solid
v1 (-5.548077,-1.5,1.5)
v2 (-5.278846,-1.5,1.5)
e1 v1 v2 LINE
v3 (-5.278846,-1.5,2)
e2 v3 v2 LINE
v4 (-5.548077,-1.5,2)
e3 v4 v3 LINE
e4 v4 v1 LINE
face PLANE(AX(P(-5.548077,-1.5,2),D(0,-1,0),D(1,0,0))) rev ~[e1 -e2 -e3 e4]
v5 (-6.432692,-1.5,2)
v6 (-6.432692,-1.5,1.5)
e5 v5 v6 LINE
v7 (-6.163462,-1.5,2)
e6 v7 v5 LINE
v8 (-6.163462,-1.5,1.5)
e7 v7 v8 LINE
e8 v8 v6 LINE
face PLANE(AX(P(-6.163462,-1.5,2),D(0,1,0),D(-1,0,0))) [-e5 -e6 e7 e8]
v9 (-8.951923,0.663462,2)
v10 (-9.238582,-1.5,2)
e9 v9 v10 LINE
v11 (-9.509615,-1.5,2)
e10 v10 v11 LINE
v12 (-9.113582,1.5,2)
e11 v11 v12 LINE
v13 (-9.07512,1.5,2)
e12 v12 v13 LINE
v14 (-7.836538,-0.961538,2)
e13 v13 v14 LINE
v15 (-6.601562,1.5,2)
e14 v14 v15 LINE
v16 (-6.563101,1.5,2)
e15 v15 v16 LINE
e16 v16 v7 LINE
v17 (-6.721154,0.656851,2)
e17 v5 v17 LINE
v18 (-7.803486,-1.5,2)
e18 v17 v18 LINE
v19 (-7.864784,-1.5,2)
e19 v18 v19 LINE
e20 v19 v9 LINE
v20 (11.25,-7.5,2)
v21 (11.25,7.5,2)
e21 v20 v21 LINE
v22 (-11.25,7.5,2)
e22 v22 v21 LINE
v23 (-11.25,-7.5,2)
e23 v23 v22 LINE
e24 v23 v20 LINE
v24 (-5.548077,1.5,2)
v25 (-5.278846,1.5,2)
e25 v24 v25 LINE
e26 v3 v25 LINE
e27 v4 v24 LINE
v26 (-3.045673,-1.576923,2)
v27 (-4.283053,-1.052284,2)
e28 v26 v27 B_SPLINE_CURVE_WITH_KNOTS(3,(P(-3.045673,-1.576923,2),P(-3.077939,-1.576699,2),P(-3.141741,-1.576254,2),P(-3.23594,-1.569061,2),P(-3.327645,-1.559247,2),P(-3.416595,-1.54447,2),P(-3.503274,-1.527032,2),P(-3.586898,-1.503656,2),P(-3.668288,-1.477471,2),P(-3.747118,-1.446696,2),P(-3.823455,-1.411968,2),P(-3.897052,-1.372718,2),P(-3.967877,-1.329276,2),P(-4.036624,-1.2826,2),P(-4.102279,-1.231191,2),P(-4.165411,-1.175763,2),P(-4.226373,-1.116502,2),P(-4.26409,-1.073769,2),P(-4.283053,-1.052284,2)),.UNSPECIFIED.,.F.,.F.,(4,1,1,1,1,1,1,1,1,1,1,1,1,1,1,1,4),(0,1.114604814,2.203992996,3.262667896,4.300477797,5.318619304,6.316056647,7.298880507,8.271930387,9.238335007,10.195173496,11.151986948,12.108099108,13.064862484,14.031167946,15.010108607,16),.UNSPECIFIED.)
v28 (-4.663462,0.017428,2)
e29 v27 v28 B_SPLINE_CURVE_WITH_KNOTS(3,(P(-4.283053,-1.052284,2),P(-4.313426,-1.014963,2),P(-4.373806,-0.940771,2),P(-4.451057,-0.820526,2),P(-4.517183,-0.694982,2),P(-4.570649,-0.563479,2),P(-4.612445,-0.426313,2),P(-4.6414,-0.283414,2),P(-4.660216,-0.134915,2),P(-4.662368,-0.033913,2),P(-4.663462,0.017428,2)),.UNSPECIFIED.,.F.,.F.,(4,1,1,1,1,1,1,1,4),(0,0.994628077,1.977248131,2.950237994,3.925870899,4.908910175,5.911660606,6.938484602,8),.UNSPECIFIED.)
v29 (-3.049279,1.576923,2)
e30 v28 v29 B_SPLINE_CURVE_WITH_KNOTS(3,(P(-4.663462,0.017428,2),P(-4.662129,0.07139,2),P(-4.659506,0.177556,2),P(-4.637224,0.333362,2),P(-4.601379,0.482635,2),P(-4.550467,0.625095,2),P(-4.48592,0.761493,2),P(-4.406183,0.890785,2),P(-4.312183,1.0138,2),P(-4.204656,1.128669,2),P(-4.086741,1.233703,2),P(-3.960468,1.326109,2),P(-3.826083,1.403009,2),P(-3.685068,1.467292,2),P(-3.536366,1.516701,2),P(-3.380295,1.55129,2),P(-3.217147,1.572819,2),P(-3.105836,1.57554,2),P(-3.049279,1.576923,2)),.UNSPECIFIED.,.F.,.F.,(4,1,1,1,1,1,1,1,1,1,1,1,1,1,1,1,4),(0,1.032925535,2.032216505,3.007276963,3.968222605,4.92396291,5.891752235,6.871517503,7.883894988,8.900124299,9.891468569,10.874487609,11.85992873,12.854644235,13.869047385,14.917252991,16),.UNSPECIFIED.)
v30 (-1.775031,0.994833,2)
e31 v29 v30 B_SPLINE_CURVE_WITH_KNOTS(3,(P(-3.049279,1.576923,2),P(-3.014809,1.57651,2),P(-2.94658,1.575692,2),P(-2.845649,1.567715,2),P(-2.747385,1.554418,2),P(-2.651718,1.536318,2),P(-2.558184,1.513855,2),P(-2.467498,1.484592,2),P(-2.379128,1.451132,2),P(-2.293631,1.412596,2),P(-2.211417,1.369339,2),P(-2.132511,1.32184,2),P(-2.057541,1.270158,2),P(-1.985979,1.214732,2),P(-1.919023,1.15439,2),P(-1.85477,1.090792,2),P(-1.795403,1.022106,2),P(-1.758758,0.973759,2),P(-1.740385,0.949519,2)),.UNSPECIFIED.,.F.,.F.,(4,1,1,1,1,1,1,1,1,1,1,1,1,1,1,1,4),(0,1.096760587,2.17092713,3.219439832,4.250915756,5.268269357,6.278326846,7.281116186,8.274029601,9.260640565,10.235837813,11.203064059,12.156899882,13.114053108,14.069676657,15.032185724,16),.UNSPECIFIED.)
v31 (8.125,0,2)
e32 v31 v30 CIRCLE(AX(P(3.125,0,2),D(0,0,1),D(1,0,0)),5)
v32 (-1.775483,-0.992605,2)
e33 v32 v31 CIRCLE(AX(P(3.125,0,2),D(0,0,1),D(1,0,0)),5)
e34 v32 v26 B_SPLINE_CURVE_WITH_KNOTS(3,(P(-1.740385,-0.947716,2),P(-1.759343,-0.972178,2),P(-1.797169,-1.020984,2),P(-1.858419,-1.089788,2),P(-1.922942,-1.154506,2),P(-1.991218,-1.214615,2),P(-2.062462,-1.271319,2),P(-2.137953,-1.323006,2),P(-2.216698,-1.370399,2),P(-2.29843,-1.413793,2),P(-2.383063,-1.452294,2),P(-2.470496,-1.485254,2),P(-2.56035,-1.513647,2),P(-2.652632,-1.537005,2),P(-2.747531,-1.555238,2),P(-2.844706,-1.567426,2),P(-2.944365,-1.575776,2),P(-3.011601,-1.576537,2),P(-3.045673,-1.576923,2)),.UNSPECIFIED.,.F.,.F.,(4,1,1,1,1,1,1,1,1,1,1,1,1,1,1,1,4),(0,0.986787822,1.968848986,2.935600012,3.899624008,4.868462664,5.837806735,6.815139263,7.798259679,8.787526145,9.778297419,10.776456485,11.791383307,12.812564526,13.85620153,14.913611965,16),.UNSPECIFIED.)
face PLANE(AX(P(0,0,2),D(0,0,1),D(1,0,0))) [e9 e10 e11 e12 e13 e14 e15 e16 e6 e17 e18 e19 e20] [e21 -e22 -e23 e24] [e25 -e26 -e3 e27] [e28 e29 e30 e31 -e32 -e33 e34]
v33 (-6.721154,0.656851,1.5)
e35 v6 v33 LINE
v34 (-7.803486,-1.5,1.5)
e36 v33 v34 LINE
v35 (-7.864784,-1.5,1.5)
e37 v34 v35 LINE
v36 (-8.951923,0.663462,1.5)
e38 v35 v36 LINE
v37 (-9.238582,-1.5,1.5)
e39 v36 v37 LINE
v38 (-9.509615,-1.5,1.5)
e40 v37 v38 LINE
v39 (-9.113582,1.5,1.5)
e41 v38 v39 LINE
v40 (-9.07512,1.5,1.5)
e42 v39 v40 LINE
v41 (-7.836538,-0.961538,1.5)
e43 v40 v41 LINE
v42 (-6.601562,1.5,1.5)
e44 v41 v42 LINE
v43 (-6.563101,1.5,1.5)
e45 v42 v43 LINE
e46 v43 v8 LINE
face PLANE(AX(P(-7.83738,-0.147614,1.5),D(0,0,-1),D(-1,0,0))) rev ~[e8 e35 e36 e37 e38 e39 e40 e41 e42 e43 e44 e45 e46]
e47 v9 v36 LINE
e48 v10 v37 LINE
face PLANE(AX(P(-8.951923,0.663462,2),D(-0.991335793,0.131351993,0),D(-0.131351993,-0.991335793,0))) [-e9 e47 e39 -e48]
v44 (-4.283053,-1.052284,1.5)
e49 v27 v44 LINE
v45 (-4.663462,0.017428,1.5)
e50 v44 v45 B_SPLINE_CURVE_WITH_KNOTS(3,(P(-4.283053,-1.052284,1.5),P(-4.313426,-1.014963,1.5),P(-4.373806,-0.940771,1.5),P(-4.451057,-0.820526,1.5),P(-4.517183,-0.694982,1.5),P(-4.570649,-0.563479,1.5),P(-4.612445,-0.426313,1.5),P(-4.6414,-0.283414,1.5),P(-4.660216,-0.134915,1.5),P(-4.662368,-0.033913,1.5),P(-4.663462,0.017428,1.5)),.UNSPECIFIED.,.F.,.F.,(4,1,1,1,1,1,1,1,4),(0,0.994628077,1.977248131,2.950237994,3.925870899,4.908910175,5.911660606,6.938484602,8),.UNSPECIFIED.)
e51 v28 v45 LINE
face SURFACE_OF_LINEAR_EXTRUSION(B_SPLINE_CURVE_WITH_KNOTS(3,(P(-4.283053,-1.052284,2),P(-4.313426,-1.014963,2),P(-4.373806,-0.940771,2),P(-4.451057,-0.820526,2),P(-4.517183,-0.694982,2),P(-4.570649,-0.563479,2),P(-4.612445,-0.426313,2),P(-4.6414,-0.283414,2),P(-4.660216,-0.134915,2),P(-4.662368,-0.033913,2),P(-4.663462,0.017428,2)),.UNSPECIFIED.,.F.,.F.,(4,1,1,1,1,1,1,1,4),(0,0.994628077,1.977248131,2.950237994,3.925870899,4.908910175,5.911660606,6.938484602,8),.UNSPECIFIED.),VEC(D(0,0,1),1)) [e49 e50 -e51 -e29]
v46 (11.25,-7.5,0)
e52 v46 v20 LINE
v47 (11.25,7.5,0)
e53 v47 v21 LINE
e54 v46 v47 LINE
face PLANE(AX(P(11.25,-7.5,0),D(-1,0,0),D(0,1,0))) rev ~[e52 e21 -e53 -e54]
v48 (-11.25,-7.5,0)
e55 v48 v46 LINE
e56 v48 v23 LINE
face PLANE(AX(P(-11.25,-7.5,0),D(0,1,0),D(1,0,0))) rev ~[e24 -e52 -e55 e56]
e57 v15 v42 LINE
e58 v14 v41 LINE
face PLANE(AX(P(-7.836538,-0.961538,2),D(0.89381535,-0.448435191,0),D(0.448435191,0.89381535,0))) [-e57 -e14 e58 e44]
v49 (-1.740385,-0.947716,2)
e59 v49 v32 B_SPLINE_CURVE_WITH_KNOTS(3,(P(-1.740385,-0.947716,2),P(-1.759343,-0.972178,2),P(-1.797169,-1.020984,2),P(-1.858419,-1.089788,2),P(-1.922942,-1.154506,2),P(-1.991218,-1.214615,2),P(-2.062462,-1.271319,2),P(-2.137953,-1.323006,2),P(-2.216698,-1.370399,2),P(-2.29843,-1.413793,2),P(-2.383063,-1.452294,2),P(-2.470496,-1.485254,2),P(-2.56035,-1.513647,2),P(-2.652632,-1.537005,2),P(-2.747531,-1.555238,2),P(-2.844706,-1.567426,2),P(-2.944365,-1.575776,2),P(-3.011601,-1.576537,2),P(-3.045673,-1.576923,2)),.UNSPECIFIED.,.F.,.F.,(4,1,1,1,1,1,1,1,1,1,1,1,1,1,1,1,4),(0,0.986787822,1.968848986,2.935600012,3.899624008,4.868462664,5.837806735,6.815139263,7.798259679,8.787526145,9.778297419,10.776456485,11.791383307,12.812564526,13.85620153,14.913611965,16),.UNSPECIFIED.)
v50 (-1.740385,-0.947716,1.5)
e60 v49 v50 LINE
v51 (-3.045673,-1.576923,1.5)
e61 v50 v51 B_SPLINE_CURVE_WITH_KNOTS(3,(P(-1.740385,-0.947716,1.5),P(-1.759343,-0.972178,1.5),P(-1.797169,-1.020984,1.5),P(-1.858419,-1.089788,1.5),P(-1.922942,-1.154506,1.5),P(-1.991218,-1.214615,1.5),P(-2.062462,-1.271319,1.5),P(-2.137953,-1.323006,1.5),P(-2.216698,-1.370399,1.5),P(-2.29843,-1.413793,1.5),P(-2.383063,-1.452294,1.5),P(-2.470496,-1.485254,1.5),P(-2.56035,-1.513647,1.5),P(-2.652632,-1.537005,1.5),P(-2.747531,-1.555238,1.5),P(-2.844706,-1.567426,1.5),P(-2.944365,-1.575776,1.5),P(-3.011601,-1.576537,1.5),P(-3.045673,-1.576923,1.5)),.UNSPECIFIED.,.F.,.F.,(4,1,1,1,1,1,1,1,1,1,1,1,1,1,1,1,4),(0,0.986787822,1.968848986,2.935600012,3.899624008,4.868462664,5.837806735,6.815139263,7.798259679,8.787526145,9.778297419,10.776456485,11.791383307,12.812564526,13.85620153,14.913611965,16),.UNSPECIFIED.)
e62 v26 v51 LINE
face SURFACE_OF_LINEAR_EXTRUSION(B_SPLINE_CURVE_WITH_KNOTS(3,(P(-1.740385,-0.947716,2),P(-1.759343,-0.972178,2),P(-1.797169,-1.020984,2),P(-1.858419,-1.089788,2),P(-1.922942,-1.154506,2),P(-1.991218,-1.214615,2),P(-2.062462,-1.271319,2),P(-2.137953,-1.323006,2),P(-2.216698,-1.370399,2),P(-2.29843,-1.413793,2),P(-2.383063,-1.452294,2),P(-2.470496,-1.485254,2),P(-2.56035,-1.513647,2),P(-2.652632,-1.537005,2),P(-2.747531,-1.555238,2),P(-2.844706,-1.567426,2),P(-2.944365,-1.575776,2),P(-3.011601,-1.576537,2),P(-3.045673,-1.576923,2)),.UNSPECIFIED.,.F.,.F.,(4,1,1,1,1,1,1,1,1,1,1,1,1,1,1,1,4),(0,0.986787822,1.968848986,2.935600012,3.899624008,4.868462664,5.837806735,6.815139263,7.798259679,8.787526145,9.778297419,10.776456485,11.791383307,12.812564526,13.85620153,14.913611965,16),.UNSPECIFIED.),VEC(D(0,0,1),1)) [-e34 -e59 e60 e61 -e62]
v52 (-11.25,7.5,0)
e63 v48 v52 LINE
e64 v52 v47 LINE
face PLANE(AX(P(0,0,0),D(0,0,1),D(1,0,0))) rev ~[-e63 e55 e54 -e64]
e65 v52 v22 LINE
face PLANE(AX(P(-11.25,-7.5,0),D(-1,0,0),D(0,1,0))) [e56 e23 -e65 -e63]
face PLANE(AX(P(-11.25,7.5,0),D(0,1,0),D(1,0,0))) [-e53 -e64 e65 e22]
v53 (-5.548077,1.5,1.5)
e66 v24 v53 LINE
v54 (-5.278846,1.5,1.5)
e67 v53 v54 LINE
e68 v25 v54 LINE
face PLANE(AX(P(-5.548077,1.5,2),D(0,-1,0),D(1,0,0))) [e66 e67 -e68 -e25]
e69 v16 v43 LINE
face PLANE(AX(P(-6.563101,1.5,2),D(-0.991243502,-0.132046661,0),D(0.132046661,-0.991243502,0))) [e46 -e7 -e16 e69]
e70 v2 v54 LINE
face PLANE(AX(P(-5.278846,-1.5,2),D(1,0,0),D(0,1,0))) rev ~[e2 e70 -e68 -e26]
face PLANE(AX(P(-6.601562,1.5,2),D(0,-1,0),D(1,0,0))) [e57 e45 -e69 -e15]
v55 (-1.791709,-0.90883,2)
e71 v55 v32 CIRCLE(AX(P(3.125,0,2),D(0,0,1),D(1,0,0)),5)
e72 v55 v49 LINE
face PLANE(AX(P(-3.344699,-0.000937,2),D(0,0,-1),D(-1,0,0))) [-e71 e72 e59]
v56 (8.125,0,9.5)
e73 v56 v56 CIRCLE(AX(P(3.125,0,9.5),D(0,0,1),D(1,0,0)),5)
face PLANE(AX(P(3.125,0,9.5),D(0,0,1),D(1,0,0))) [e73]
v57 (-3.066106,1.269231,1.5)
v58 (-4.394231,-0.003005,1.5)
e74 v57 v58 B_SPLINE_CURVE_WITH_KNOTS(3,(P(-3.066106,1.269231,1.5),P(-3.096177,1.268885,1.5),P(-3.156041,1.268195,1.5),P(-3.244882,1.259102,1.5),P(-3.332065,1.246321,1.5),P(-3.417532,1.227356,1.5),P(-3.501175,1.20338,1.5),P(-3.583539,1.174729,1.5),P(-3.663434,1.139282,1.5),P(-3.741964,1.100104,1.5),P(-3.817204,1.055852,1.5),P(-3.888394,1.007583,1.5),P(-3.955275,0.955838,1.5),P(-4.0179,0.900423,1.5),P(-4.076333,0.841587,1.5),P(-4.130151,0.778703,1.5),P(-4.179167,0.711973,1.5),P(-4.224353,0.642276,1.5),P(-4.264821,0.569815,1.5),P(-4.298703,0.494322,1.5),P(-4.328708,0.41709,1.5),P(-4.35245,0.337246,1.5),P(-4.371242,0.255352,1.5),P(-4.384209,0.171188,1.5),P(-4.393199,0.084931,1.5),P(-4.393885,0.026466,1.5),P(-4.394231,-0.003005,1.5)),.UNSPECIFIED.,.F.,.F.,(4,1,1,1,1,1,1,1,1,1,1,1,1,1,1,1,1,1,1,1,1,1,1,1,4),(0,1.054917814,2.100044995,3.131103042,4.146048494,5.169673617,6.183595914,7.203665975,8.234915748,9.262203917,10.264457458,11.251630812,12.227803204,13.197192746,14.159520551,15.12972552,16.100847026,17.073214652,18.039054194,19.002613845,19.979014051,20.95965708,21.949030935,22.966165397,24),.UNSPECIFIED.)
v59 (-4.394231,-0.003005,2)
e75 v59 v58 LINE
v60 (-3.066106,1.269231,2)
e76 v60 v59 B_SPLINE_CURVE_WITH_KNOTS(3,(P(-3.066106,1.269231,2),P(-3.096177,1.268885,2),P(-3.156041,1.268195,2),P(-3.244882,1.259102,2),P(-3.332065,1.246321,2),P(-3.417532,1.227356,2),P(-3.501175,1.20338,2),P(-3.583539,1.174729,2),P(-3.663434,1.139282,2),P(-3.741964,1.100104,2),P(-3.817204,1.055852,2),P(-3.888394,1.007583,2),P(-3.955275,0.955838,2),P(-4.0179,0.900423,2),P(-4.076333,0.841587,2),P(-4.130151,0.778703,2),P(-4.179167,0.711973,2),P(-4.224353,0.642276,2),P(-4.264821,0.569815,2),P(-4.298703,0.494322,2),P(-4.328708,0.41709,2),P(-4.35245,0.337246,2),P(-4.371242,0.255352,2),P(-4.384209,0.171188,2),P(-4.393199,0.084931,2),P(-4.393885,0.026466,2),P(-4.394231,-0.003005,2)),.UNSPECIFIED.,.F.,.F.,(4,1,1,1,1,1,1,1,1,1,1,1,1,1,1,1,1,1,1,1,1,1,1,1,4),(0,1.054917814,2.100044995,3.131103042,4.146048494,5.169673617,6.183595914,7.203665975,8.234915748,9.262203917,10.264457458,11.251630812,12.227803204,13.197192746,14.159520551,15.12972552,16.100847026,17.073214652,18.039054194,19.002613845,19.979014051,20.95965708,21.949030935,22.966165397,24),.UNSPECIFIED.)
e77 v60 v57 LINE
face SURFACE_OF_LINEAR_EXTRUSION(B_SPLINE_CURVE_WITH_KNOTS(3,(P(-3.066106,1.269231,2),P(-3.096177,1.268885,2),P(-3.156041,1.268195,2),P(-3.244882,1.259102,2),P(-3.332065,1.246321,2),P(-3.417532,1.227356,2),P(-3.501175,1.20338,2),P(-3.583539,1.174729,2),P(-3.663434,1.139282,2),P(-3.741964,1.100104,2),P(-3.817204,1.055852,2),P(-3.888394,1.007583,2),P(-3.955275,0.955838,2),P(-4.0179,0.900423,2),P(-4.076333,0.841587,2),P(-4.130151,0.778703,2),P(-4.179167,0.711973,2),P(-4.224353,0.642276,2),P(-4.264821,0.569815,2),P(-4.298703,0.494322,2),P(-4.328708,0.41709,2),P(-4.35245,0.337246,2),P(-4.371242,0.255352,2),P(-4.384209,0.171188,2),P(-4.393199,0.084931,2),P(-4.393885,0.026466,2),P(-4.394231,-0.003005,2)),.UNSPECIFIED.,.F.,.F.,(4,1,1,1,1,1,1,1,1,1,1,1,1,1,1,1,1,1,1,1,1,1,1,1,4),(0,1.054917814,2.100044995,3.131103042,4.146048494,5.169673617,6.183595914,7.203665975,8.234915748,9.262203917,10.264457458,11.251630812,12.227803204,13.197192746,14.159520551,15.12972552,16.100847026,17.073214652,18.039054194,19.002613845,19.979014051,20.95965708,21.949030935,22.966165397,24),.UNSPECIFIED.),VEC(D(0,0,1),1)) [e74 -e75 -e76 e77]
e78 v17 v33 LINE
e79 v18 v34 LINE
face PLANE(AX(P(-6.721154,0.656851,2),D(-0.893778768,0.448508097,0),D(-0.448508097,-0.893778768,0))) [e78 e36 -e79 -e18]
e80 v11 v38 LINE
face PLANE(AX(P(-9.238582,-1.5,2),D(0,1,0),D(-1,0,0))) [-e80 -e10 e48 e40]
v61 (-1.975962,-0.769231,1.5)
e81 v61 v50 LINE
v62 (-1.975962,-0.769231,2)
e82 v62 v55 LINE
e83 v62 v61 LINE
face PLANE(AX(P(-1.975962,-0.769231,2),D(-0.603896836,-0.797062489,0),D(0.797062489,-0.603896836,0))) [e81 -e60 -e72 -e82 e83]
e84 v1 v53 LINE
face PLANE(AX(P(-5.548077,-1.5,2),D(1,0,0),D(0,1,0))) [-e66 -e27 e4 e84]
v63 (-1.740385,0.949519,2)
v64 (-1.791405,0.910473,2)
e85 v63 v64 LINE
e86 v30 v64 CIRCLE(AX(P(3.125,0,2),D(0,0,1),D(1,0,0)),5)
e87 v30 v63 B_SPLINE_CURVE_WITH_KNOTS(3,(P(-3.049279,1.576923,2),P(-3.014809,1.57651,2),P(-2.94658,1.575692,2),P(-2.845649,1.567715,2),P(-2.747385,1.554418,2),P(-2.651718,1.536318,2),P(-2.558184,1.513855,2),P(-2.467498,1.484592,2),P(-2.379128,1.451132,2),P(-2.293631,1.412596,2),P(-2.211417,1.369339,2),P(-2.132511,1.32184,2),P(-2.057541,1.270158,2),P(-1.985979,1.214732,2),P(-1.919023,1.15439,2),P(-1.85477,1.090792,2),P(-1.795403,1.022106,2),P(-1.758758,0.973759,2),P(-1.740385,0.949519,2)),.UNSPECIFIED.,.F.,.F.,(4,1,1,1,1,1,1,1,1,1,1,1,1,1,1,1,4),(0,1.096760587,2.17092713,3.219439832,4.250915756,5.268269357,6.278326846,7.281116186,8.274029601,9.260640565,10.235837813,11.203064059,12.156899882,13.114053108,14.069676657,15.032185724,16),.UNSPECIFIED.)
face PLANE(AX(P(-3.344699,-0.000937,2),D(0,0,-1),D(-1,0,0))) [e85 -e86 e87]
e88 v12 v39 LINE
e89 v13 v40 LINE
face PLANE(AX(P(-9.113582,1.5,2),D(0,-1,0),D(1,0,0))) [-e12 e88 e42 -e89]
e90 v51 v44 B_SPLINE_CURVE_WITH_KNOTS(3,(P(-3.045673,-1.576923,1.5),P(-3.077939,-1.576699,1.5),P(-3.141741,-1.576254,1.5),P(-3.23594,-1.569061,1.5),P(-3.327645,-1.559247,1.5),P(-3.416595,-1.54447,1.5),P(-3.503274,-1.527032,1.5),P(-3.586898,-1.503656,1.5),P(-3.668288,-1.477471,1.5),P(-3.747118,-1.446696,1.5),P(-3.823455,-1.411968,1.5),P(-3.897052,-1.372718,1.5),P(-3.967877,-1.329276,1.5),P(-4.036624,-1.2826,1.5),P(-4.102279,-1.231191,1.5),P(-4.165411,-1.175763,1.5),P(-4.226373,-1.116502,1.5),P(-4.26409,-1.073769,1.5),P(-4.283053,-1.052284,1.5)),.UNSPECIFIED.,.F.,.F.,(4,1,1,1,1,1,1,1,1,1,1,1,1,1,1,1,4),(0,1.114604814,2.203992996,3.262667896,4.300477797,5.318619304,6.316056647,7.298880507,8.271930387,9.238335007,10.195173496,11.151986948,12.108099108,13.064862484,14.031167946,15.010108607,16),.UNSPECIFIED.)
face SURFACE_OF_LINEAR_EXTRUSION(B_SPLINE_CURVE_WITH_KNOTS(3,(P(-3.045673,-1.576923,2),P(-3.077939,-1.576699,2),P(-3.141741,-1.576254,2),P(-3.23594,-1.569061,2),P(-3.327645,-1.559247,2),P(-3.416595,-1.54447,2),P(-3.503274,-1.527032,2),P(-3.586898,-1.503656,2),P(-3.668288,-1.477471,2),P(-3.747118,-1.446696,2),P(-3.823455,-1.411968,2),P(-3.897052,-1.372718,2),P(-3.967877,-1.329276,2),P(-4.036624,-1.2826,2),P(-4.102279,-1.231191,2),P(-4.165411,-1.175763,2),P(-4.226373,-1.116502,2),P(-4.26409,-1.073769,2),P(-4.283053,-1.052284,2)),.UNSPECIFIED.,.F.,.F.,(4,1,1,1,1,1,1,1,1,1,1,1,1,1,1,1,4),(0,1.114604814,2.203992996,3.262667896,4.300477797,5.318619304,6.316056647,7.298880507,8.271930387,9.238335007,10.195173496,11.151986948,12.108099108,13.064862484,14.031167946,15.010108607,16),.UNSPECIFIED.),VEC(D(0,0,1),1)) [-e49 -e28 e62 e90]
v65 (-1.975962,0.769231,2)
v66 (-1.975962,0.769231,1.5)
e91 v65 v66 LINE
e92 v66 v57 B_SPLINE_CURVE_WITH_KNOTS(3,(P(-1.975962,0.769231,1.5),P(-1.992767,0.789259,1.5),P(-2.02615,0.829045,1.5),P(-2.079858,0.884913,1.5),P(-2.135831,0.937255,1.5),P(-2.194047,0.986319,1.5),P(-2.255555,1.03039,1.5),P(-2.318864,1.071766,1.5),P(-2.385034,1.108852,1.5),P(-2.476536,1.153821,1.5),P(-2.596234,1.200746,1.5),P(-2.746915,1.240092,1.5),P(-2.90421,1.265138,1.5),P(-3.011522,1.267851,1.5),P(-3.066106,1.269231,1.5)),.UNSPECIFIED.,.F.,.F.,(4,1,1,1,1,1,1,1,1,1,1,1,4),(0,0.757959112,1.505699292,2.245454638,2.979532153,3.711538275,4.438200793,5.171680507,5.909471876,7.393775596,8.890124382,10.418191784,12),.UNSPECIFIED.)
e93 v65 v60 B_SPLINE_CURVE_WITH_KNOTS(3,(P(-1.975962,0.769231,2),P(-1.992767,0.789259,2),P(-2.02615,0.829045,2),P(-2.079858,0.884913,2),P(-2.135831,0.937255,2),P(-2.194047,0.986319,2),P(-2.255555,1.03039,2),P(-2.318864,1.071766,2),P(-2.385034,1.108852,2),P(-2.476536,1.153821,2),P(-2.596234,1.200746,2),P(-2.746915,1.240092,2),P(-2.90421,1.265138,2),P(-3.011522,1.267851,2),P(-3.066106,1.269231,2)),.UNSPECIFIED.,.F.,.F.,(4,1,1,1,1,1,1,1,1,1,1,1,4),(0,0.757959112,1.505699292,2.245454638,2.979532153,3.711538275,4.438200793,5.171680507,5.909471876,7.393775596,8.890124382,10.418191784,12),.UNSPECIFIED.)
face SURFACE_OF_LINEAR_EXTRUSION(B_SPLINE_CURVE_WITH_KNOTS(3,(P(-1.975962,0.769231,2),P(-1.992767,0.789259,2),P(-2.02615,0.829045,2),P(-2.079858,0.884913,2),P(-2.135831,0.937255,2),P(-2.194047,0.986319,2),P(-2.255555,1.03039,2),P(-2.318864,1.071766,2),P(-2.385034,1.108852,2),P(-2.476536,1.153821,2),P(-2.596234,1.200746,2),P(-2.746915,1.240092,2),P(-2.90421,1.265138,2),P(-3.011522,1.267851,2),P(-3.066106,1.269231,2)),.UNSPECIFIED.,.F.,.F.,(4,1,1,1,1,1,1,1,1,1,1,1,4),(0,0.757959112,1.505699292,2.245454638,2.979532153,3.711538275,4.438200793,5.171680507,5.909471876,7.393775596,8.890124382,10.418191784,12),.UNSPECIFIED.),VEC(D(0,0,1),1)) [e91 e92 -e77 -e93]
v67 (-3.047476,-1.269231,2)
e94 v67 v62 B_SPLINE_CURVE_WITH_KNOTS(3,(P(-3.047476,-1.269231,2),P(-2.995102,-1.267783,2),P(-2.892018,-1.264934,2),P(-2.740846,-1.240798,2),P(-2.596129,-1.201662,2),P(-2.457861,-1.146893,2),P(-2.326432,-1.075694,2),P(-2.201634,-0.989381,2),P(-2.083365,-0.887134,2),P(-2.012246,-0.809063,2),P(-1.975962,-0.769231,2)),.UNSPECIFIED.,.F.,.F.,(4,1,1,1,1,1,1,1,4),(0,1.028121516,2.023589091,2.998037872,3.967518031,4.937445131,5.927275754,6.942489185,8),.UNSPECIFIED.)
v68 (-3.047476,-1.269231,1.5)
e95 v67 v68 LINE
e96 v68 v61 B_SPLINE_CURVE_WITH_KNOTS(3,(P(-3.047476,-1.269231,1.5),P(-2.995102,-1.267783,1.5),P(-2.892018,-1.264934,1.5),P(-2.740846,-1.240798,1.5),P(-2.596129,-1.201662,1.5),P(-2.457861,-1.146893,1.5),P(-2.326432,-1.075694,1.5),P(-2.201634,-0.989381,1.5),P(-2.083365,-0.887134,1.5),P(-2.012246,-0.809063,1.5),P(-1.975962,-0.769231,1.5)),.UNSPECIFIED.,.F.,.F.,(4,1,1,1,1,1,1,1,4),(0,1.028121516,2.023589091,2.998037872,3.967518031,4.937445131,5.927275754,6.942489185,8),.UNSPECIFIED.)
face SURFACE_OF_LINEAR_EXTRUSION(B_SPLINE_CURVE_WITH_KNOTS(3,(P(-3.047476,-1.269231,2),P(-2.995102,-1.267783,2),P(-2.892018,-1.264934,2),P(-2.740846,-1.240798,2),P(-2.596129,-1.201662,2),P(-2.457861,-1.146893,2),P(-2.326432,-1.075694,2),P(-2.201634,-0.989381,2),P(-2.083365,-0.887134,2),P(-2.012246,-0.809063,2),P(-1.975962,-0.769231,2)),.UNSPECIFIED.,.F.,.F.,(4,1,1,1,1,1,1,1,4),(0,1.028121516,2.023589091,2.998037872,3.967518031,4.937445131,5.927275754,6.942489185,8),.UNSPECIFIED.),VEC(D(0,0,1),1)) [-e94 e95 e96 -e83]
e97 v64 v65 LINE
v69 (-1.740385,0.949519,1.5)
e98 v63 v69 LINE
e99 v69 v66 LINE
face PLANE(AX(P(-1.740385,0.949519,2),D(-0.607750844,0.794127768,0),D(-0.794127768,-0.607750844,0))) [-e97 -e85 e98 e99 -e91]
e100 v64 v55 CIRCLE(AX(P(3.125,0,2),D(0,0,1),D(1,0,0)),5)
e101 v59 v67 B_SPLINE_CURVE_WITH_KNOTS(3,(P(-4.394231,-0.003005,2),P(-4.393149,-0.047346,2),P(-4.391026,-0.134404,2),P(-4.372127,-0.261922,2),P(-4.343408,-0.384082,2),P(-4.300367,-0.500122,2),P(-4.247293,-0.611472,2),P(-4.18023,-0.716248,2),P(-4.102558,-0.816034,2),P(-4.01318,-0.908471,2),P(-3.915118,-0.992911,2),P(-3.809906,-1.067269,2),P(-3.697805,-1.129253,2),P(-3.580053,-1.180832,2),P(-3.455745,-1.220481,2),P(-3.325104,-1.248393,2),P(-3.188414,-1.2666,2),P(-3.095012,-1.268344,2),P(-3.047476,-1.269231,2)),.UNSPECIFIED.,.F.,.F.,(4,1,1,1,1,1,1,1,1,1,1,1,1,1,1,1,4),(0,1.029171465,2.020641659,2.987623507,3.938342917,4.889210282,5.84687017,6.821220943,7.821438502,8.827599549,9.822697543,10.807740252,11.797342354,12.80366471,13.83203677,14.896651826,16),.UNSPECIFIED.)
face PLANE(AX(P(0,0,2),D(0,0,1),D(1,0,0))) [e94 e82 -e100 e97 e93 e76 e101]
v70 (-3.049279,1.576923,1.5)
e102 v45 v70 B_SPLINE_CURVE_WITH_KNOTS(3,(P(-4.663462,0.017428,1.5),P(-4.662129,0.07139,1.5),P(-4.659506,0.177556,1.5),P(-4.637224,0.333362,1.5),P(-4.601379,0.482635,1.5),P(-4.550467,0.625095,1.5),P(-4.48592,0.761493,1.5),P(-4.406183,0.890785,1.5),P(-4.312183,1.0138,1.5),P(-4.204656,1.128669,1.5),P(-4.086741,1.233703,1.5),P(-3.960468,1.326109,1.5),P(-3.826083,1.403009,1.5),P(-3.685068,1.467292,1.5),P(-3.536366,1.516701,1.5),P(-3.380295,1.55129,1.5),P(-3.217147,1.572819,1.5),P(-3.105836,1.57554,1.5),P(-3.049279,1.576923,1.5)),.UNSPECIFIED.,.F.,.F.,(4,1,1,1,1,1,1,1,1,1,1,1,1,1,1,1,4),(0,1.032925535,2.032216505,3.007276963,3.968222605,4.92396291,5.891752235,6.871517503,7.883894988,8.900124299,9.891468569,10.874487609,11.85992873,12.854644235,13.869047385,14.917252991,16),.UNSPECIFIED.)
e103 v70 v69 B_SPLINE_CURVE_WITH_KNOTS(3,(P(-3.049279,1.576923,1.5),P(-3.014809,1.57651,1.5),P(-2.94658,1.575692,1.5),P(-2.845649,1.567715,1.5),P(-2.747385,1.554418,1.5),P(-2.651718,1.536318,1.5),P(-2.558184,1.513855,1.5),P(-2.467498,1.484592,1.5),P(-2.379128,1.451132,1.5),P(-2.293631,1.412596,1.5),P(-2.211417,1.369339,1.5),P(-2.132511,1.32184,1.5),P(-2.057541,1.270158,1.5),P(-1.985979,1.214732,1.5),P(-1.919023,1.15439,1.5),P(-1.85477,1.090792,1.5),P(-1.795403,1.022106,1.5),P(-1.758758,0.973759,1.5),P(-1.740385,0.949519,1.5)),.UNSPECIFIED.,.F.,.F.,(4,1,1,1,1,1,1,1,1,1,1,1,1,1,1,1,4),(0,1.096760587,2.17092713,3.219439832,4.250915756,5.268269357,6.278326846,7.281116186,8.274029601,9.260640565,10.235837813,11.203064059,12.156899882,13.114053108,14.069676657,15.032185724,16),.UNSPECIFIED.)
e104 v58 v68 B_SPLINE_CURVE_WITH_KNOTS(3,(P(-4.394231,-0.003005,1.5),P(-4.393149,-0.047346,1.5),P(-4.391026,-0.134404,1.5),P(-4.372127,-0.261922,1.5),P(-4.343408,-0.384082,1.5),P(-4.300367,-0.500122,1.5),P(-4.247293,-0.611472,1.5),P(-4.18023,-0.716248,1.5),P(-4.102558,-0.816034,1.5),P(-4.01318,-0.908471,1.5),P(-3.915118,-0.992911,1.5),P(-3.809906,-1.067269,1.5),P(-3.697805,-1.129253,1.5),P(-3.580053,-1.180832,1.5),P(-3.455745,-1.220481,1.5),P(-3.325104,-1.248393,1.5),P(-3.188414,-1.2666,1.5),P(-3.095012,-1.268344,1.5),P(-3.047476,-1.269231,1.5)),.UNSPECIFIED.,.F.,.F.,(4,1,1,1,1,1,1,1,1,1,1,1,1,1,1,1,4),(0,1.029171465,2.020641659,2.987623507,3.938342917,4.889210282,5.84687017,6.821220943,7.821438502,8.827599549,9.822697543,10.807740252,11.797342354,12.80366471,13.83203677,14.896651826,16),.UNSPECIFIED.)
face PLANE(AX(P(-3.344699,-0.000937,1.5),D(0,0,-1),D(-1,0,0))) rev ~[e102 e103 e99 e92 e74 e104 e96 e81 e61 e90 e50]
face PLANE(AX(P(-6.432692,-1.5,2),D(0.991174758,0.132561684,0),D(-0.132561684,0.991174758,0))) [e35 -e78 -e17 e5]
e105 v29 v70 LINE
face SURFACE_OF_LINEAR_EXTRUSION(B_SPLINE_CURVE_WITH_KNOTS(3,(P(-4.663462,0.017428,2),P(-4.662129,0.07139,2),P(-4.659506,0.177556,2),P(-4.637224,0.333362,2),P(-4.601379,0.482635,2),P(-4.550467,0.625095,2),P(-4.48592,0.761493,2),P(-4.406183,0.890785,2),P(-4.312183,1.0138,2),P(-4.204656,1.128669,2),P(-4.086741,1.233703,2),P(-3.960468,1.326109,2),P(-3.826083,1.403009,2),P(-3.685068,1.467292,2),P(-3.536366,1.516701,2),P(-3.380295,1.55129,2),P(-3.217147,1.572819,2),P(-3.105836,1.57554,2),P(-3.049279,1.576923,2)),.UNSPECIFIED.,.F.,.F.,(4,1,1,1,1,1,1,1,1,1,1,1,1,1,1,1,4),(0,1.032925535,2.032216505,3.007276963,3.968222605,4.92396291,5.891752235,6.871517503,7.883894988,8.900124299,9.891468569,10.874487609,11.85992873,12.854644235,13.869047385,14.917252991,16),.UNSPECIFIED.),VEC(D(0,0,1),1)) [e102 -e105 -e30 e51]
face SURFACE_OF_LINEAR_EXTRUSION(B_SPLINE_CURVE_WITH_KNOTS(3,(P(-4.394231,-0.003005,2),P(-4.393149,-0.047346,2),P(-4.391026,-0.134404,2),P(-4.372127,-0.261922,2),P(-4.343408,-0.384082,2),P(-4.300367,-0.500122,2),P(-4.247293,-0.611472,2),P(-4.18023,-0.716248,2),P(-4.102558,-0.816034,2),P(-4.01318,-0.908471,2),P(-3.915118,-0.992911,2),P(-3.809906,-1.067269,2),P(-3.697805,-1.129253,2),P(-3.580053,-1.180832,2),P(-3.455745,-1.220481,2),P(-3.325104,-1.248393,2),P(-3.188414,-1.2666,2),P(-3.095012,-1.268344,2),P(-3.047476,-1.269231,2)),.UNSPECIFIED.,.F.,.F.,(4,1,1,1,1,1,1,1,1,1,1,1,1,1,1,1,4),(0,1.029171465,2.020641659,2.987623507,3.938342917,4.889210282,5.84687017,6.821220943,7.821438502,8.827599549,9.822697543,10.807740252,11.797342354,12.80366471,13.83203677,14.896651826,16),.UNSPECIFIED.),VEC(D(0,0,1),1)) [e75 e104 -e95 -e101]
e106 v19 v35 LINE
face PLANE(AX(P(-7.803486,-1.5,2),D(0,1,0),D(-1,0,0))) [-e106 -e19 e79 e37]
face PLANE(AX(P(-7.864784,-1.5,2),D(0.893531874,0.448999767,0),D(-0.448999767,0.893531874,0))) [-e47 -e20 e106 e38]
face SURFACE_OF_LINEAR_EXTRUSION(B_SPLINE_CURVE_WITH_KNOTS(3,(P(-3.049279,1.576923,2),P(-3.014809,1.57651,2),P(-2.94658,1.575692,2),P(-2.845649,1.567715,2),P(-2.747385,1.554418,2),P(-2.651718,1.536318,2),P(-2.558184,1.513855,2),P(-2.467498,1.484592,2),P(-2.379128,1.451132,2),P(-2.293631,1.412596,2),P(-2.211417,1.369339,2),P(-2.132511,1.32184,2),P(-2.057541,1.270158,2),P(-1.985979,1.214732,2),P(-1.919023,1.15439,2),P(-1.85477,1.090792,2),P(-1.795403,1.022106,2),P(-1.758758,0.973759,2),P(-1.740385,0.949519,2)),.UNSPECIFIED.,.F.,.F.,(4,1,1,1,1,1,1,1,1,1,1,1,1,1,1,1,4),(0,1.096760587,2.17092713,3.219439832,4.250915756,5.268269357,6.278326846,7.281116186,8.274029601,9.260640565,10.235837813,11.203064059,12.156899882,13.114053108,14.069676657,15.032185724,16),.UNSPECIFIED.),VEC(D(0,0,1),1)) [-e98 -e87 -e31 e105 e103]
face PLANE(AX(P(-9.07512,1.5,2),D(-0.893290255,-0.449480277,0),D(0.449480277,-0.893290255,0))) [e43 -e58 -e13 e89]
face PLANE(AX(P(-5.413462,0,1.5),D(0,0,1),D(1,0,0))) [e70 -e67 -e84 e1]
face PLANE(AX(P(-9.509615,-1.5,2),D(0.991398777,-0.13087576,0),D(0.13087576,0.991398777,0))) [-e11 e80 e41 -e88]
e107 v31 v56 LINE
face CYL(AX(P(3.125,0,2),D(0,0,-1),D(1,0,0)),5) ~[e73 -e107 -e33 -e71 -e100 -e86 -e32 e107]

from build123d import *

# Parameters (mm, degrees)
SKETCH1_W           = 22.5
SKETCH1_H           = 15
BOSS_EXTRUDE1_DEPTH = 2
SKETCH2_R           = 5
BOSS_EXTRUDE2_DEPTH = 7.5
SKETCH3_W           = 0.269230769
SKETCH3_H           = 3
CUT_EXTRUDE1_DEPTH  = 0.5


with BuildPart() as part:
    # Sketch1 → Boss-Extrude1 (new body)
    with BuildSketch(Plane.XY):
        Rectangle(SKETCH1_W, SKETCH1_H)
    extrude(amount=BOSS_EXTRUDE1_DEPTH)

    # Sketch2 → Boss-Extrude2 (add)
    with BuildSketch(Plane.XY.offset(2)):
        with Locations((3.125, 0)):
            Circle(SKETCH2_R)
    extrude(amount=BOSS_EXTRUDE2_DEPTH)

    # Sketch3 → Cut-Extrude1 (cut)
    with BuildSketch(Plane.XY.offset(2)):
        Polygon((-9.509615385, -1.5), (-9.113581731, 1.5), (-9.075120192, 1.5), (-7.836538462, -0.961538462), (-6.6015625, 1.5), (-6.563100962, 1.5), (-6.163461538, -1.5), (-6.432692308, -1.5), (-6.721153846, 0.656850962), (-7.803485577, -1.5), (-7.864783654, -1.5), (-8.951923077, 0.663461538), (-9.238581731, -1.5), align=None)
        with Locations((-5.413461539, 0)):
            Rectangle(SKETCH3_W, SKETCH3_H)
        with BuildLine():
            Line((-1.740384615, 0.949519231), (-1.975961538, 0.769230769))
            add(Edge.make_bspline(
                [(-1.975961538, 0.769230769), (-1.992766586, 0.789258743), (-2.026150111, 0.829044671), (-2.079857999, 0.884912852), (-2.135830836, 0.937254505), (-2.194047226, 0.986318973), (-2.255555042, 1.030390487), (-2.318864298, 1.071765718), (-2.385034051, 1.10885235), (-2.476535538, 1.153820624), (-2.596233694, 1.2007459), (-2.746914985, 1.240091526), (-2.904210212, 1.265138248), (-3.01152244, 1.26785097), (-3.066105769, 1.269230769)],
                knots=[0, 0, 0, 0, 0.757959112, 1.505699292, 2.245454638, 2.979532153, 3.711538275, 4.438200793, 5.171680507, 5.909471876, 7.393775596, 8.890124382, 10.418191784, 12, 12, 12, 12], degree=3))
            add(Edge.make_bspline(
                [(-3.066105769, 1.269230769), (-3.096177169, 1.268884516), (-3.156040877, 1.268195222), (-3.244882425, 1.259101686), (-3.332065041, 1.246320649), (-3.417532012, 1.227356086), (-3.501174547, 1.203379556), (-3.583539464, 1.174729201), (-3.663434263, 1.139282195), (-3.741964182, 1.100103687), (-3.817203506, 1.055851591), (-3.888393547, 1.007583004), (-3.955274662, 0.955838064), (-4.017899758, 0.90042283), (-4.076332857, 0.841586864), (-4.130150552, 0.778703143), (-4.179166617, 0.711972708), (-4.224352639, 0.642275502), (-4.264820696, 0.569814537), (-4.29870345, 0.49432162), (-4.32870784, 0.417089531), (-4.352450048, 0.337245679), (-4.371242491, 0.25535188), (-4.38420906, 0.171188348), (-4.393199178, 0.084930908), (-4.393885044, 0.026465783), (-4.394230769, -0.003004808)],
                knots=[0, 0, 0, 0, 1.054917814, 2.100044995, 3.131103042, 4.146048494, 5.169673617, 6.183595914, 7.203665975, 8.234915748, 9.262203917, 10.264457458, 11.251630812, 12.227803204, 13.197192746, 14.159520551, 15.12972552, 16.100847026, 17.073214652, 18.039054194, 19.002613845, 19.979014051, 20.95965708, 21.949030935, 22.966165397, 24, 24, 24, 24], degree=3))
            add(Edge.make_bspline(
                [(-4.394230769, -0.003004808), (-4.39314921, -0.047345939), (-4.391025712, -0.134403869), (-4.37212714, -0.261921535), (-4.34340849, -0.384082113), (-4.300366567, -0.500121977), (-4.247293095, -0.611471999), (-4.180229714, -0.716248159), (-4.102558396, -0.816033785), (-4.013180323, -0.908470598), (-3.915118195, -0.992910934), (-3.809905699, -1.067268575), (-3.697804881, -1.12925276), (-3.580053483, -1.180832143), (-3.455745386, -1.220480766), (-3.325104127, -1.248392872), (-3.188413845, -1.266600456), (-3.095011502, -1.268343617), (-3.047475962, -1.269230769)],
                knots=[0, 0, 0, 0, 1.029171465, 2.020641659, 2.987623507, 3.938342917, 4.889210282, 5.84687017, 6.821220943, 7.821438502, 8.827599549, 9.822697543, 10.807740252, 11.797342354, 12.80366471, 13.83203677, 14.896651826, 16, 16, 16, 16], degree=3))
            add(Edge.make_bspline(
                [(-3.047475962, -1.269230769), (-2.995102228, -1.267783244), (-2.892018192, -1.264934167), (-2.740845598, -1.240797668), (-2.596129227, -1.20166231), (-2.457861296, -1.146892662), (-2.326431599, -1.075693844), (-2.201634462, -0.989381378), (-2.083364544, -0.887134235), (-2.012246302, -0.809062982), (-1.975961538, -0.769230769)],
                knots=[0, 0, 0, 0, 1.028121516, 2.023589091, 2.998037872, 3.967518031, 4.937445131, 5.927275754, 6.942489185, 8, 8, 8, 8], degree=3))
            Line((-1.975961538, -0.769230769), (-1.740384615, -0.947716346))
            add(Edge.make_bspline(
                [(-1.740384615, -0.947716346), (-1.759342995, -0.972177876), (-1.797168946, -1.020983767), (-1.858418674, -1.08978809), (-1.922942072, -1.154505835), (-1.991218395, -1.214615224), (-2.062462216, -1.271319052), (-2.13795277, -1.323006336), (-2.216697655, -1.370398523), (-2.298430065, -1.413793029), (-2.383063162, -1.452293527), (-2.470495535, -1.485253899), (-2.560350314, -1.513646662), (-2.652631607, -1.537005464), (-2.747530827, -1.555237822), (-2.844705519, -1.567426115), (-2.944365412, -1.575776327), (-3.011600916, -1.576537398), (-3.045673077, -1.576923077)],
                knots=[0, 0, 0, 0, 0.986787822, 1.968848986, 2.935600012, 3.899624008, 4.868462664, 5.837806735, 6.815139263, 7.798259679, 8.787526145, 9.778297419, 10.776456485, 11.791383307, 12.812564526, 13.85620153, 14.913611965, 16, 16, 16, 16], degree=3))
            add(Edge.make_bspline(
                [(-3.045673077, -1.576923077), (-3.077939077, -1.576698512), (-3.141741097, -1.576254462), (-3.235940027, -1.569061176), (-3.327645382, -1.559247116), (-3.416595062, -1.544469861), (-3.503274469, -1.527031855), (-3.586897827, -1.503656492), (-3.668288007, -1.477471492), (-3.747118014, -1.446695789), (-3.823454899, -1.411967633), (-3.897052452, -1.372717725), (-3.967876822, -1.329276127), (-4.036624326, -1.282600404), (-4.102279398, -1.231191288), (-4.165410991, -1.175762744), (-4.226373113, -1.116501592), (-4.2640897, -1.07376886), (-4.283052885, -1.052283654)],
                knots=[0, 0, 0, 0, 1.114604814, 2.203992996, 3.262667896, 4.300477797, 5.318619304, 6.316056647, 7.298880507, 8.271930387, 9.238335007, 10.195173496, 11.151986948, 12.108099108, 13.064862484, 14.031167946, 15.010108607, 16, 16, 16, 16], degree=3))
            add(Edge.make_bspline(
                [(-4.283052885, -1.052283654), (-4.313426293, -1.014962635), (-4.373806416, -0.940771169), (-4.451057002, -0.820526042), (-4.517183478, -0.694981863), (-4.570648553, -0.563479067), (-4.612445181, -0.426312735), (-4.641400492, -0.283413723), (-4.660216153, -0.134915486), (-4.662367829, -0.033912525), (-4.663461538, 0.017427885)],
                knots=[0, 0, 0, 0, 0.994628077, 1.977248131, 2.950237994, 3.925870899, 4.908910175, 5.911660606, 6.938484602, 8, 8, 8, 8], degree=3))
            add(Edge.make_bspline(
                [(-4.663461538, 0.017427885), (-4.662128515, 0.071389702), (-4.659505876, 0.177556209), (-4.637223765, 0.333362454), (-4.601379083, 0.482635082), (-4.550467464, 0.625095434), (-4.48592002, 0.761492818), (-4.406182923, 0.890785279), (-4.312182515, 1.013799679), (-4.204656028, 1.128669465), (-4.08674117, 1.233703196), (-3.960467901, 1.326108514), (-3.826083375, 1.403009242), (-3.685068073, 1.467291667), (-3.53636606, 1.516701206), (-3.380294601, 1.551289652), (-3.21714696, 1.572818609), (-3.105836309, 1.575540216), (-3.049278846, 1.576923077)],
                knots=[0, 0, 0, 0, 1.032925535, 2.032216505, 3.007276963, 3.968222605, 4.92396291, 5.891752235, 6.871517503, 7.883894988, 8.900124299, 9.891468569, 10.874487609, 11.85992873, 12.854644235, 13.869047385, 14.917252991, 16, 16, 16, 16], degree=3))
            add(Edge.make_bspline(
                [(-3.049278846, 1.576923077), (-3.014809299, 1.576509816), (-2.946580301, 1.575691806), (-2.845649456, 1.567715113), (-2.747384604, 1.554417736), (-2.651718048, 1.536318248), (-2.558184377, 1.51385483), (-2.467498457, 1.484591717), (-2.379128154, 1.451131833), (-2.293630804, 1.412596005), (-2.211416618, 1.369338798), (-2.132511202, 1.321839692), (-2.057541323, 1.270157573), (-1.985979453, 1.214731994), (-1.919022701, 1.154390372), (-1.854770005, 1.090792432), (-1.795403366, 1.022106297), (-1.758757771, 0.973759211), (-1.740384615, 0.949519231)],
                knots=[0, 0, 0, 0, 1.096760587, 2.17092713, 3.219439832, 4.250915756, 5.268269357, 6.278326846, 7.281116186, 8.274029601, 9.260640565, 10.235837813, 11.203064059, 12.156899882, 13.114053108, 14.069676657, 15.032185724, 16, 16, 16, 16], degree=3))
        make_face()
    extrude(amount=-CUT_EXTRUDE1_DEPTH, mode=Mode.SUBTRACT)


solid = part.part
